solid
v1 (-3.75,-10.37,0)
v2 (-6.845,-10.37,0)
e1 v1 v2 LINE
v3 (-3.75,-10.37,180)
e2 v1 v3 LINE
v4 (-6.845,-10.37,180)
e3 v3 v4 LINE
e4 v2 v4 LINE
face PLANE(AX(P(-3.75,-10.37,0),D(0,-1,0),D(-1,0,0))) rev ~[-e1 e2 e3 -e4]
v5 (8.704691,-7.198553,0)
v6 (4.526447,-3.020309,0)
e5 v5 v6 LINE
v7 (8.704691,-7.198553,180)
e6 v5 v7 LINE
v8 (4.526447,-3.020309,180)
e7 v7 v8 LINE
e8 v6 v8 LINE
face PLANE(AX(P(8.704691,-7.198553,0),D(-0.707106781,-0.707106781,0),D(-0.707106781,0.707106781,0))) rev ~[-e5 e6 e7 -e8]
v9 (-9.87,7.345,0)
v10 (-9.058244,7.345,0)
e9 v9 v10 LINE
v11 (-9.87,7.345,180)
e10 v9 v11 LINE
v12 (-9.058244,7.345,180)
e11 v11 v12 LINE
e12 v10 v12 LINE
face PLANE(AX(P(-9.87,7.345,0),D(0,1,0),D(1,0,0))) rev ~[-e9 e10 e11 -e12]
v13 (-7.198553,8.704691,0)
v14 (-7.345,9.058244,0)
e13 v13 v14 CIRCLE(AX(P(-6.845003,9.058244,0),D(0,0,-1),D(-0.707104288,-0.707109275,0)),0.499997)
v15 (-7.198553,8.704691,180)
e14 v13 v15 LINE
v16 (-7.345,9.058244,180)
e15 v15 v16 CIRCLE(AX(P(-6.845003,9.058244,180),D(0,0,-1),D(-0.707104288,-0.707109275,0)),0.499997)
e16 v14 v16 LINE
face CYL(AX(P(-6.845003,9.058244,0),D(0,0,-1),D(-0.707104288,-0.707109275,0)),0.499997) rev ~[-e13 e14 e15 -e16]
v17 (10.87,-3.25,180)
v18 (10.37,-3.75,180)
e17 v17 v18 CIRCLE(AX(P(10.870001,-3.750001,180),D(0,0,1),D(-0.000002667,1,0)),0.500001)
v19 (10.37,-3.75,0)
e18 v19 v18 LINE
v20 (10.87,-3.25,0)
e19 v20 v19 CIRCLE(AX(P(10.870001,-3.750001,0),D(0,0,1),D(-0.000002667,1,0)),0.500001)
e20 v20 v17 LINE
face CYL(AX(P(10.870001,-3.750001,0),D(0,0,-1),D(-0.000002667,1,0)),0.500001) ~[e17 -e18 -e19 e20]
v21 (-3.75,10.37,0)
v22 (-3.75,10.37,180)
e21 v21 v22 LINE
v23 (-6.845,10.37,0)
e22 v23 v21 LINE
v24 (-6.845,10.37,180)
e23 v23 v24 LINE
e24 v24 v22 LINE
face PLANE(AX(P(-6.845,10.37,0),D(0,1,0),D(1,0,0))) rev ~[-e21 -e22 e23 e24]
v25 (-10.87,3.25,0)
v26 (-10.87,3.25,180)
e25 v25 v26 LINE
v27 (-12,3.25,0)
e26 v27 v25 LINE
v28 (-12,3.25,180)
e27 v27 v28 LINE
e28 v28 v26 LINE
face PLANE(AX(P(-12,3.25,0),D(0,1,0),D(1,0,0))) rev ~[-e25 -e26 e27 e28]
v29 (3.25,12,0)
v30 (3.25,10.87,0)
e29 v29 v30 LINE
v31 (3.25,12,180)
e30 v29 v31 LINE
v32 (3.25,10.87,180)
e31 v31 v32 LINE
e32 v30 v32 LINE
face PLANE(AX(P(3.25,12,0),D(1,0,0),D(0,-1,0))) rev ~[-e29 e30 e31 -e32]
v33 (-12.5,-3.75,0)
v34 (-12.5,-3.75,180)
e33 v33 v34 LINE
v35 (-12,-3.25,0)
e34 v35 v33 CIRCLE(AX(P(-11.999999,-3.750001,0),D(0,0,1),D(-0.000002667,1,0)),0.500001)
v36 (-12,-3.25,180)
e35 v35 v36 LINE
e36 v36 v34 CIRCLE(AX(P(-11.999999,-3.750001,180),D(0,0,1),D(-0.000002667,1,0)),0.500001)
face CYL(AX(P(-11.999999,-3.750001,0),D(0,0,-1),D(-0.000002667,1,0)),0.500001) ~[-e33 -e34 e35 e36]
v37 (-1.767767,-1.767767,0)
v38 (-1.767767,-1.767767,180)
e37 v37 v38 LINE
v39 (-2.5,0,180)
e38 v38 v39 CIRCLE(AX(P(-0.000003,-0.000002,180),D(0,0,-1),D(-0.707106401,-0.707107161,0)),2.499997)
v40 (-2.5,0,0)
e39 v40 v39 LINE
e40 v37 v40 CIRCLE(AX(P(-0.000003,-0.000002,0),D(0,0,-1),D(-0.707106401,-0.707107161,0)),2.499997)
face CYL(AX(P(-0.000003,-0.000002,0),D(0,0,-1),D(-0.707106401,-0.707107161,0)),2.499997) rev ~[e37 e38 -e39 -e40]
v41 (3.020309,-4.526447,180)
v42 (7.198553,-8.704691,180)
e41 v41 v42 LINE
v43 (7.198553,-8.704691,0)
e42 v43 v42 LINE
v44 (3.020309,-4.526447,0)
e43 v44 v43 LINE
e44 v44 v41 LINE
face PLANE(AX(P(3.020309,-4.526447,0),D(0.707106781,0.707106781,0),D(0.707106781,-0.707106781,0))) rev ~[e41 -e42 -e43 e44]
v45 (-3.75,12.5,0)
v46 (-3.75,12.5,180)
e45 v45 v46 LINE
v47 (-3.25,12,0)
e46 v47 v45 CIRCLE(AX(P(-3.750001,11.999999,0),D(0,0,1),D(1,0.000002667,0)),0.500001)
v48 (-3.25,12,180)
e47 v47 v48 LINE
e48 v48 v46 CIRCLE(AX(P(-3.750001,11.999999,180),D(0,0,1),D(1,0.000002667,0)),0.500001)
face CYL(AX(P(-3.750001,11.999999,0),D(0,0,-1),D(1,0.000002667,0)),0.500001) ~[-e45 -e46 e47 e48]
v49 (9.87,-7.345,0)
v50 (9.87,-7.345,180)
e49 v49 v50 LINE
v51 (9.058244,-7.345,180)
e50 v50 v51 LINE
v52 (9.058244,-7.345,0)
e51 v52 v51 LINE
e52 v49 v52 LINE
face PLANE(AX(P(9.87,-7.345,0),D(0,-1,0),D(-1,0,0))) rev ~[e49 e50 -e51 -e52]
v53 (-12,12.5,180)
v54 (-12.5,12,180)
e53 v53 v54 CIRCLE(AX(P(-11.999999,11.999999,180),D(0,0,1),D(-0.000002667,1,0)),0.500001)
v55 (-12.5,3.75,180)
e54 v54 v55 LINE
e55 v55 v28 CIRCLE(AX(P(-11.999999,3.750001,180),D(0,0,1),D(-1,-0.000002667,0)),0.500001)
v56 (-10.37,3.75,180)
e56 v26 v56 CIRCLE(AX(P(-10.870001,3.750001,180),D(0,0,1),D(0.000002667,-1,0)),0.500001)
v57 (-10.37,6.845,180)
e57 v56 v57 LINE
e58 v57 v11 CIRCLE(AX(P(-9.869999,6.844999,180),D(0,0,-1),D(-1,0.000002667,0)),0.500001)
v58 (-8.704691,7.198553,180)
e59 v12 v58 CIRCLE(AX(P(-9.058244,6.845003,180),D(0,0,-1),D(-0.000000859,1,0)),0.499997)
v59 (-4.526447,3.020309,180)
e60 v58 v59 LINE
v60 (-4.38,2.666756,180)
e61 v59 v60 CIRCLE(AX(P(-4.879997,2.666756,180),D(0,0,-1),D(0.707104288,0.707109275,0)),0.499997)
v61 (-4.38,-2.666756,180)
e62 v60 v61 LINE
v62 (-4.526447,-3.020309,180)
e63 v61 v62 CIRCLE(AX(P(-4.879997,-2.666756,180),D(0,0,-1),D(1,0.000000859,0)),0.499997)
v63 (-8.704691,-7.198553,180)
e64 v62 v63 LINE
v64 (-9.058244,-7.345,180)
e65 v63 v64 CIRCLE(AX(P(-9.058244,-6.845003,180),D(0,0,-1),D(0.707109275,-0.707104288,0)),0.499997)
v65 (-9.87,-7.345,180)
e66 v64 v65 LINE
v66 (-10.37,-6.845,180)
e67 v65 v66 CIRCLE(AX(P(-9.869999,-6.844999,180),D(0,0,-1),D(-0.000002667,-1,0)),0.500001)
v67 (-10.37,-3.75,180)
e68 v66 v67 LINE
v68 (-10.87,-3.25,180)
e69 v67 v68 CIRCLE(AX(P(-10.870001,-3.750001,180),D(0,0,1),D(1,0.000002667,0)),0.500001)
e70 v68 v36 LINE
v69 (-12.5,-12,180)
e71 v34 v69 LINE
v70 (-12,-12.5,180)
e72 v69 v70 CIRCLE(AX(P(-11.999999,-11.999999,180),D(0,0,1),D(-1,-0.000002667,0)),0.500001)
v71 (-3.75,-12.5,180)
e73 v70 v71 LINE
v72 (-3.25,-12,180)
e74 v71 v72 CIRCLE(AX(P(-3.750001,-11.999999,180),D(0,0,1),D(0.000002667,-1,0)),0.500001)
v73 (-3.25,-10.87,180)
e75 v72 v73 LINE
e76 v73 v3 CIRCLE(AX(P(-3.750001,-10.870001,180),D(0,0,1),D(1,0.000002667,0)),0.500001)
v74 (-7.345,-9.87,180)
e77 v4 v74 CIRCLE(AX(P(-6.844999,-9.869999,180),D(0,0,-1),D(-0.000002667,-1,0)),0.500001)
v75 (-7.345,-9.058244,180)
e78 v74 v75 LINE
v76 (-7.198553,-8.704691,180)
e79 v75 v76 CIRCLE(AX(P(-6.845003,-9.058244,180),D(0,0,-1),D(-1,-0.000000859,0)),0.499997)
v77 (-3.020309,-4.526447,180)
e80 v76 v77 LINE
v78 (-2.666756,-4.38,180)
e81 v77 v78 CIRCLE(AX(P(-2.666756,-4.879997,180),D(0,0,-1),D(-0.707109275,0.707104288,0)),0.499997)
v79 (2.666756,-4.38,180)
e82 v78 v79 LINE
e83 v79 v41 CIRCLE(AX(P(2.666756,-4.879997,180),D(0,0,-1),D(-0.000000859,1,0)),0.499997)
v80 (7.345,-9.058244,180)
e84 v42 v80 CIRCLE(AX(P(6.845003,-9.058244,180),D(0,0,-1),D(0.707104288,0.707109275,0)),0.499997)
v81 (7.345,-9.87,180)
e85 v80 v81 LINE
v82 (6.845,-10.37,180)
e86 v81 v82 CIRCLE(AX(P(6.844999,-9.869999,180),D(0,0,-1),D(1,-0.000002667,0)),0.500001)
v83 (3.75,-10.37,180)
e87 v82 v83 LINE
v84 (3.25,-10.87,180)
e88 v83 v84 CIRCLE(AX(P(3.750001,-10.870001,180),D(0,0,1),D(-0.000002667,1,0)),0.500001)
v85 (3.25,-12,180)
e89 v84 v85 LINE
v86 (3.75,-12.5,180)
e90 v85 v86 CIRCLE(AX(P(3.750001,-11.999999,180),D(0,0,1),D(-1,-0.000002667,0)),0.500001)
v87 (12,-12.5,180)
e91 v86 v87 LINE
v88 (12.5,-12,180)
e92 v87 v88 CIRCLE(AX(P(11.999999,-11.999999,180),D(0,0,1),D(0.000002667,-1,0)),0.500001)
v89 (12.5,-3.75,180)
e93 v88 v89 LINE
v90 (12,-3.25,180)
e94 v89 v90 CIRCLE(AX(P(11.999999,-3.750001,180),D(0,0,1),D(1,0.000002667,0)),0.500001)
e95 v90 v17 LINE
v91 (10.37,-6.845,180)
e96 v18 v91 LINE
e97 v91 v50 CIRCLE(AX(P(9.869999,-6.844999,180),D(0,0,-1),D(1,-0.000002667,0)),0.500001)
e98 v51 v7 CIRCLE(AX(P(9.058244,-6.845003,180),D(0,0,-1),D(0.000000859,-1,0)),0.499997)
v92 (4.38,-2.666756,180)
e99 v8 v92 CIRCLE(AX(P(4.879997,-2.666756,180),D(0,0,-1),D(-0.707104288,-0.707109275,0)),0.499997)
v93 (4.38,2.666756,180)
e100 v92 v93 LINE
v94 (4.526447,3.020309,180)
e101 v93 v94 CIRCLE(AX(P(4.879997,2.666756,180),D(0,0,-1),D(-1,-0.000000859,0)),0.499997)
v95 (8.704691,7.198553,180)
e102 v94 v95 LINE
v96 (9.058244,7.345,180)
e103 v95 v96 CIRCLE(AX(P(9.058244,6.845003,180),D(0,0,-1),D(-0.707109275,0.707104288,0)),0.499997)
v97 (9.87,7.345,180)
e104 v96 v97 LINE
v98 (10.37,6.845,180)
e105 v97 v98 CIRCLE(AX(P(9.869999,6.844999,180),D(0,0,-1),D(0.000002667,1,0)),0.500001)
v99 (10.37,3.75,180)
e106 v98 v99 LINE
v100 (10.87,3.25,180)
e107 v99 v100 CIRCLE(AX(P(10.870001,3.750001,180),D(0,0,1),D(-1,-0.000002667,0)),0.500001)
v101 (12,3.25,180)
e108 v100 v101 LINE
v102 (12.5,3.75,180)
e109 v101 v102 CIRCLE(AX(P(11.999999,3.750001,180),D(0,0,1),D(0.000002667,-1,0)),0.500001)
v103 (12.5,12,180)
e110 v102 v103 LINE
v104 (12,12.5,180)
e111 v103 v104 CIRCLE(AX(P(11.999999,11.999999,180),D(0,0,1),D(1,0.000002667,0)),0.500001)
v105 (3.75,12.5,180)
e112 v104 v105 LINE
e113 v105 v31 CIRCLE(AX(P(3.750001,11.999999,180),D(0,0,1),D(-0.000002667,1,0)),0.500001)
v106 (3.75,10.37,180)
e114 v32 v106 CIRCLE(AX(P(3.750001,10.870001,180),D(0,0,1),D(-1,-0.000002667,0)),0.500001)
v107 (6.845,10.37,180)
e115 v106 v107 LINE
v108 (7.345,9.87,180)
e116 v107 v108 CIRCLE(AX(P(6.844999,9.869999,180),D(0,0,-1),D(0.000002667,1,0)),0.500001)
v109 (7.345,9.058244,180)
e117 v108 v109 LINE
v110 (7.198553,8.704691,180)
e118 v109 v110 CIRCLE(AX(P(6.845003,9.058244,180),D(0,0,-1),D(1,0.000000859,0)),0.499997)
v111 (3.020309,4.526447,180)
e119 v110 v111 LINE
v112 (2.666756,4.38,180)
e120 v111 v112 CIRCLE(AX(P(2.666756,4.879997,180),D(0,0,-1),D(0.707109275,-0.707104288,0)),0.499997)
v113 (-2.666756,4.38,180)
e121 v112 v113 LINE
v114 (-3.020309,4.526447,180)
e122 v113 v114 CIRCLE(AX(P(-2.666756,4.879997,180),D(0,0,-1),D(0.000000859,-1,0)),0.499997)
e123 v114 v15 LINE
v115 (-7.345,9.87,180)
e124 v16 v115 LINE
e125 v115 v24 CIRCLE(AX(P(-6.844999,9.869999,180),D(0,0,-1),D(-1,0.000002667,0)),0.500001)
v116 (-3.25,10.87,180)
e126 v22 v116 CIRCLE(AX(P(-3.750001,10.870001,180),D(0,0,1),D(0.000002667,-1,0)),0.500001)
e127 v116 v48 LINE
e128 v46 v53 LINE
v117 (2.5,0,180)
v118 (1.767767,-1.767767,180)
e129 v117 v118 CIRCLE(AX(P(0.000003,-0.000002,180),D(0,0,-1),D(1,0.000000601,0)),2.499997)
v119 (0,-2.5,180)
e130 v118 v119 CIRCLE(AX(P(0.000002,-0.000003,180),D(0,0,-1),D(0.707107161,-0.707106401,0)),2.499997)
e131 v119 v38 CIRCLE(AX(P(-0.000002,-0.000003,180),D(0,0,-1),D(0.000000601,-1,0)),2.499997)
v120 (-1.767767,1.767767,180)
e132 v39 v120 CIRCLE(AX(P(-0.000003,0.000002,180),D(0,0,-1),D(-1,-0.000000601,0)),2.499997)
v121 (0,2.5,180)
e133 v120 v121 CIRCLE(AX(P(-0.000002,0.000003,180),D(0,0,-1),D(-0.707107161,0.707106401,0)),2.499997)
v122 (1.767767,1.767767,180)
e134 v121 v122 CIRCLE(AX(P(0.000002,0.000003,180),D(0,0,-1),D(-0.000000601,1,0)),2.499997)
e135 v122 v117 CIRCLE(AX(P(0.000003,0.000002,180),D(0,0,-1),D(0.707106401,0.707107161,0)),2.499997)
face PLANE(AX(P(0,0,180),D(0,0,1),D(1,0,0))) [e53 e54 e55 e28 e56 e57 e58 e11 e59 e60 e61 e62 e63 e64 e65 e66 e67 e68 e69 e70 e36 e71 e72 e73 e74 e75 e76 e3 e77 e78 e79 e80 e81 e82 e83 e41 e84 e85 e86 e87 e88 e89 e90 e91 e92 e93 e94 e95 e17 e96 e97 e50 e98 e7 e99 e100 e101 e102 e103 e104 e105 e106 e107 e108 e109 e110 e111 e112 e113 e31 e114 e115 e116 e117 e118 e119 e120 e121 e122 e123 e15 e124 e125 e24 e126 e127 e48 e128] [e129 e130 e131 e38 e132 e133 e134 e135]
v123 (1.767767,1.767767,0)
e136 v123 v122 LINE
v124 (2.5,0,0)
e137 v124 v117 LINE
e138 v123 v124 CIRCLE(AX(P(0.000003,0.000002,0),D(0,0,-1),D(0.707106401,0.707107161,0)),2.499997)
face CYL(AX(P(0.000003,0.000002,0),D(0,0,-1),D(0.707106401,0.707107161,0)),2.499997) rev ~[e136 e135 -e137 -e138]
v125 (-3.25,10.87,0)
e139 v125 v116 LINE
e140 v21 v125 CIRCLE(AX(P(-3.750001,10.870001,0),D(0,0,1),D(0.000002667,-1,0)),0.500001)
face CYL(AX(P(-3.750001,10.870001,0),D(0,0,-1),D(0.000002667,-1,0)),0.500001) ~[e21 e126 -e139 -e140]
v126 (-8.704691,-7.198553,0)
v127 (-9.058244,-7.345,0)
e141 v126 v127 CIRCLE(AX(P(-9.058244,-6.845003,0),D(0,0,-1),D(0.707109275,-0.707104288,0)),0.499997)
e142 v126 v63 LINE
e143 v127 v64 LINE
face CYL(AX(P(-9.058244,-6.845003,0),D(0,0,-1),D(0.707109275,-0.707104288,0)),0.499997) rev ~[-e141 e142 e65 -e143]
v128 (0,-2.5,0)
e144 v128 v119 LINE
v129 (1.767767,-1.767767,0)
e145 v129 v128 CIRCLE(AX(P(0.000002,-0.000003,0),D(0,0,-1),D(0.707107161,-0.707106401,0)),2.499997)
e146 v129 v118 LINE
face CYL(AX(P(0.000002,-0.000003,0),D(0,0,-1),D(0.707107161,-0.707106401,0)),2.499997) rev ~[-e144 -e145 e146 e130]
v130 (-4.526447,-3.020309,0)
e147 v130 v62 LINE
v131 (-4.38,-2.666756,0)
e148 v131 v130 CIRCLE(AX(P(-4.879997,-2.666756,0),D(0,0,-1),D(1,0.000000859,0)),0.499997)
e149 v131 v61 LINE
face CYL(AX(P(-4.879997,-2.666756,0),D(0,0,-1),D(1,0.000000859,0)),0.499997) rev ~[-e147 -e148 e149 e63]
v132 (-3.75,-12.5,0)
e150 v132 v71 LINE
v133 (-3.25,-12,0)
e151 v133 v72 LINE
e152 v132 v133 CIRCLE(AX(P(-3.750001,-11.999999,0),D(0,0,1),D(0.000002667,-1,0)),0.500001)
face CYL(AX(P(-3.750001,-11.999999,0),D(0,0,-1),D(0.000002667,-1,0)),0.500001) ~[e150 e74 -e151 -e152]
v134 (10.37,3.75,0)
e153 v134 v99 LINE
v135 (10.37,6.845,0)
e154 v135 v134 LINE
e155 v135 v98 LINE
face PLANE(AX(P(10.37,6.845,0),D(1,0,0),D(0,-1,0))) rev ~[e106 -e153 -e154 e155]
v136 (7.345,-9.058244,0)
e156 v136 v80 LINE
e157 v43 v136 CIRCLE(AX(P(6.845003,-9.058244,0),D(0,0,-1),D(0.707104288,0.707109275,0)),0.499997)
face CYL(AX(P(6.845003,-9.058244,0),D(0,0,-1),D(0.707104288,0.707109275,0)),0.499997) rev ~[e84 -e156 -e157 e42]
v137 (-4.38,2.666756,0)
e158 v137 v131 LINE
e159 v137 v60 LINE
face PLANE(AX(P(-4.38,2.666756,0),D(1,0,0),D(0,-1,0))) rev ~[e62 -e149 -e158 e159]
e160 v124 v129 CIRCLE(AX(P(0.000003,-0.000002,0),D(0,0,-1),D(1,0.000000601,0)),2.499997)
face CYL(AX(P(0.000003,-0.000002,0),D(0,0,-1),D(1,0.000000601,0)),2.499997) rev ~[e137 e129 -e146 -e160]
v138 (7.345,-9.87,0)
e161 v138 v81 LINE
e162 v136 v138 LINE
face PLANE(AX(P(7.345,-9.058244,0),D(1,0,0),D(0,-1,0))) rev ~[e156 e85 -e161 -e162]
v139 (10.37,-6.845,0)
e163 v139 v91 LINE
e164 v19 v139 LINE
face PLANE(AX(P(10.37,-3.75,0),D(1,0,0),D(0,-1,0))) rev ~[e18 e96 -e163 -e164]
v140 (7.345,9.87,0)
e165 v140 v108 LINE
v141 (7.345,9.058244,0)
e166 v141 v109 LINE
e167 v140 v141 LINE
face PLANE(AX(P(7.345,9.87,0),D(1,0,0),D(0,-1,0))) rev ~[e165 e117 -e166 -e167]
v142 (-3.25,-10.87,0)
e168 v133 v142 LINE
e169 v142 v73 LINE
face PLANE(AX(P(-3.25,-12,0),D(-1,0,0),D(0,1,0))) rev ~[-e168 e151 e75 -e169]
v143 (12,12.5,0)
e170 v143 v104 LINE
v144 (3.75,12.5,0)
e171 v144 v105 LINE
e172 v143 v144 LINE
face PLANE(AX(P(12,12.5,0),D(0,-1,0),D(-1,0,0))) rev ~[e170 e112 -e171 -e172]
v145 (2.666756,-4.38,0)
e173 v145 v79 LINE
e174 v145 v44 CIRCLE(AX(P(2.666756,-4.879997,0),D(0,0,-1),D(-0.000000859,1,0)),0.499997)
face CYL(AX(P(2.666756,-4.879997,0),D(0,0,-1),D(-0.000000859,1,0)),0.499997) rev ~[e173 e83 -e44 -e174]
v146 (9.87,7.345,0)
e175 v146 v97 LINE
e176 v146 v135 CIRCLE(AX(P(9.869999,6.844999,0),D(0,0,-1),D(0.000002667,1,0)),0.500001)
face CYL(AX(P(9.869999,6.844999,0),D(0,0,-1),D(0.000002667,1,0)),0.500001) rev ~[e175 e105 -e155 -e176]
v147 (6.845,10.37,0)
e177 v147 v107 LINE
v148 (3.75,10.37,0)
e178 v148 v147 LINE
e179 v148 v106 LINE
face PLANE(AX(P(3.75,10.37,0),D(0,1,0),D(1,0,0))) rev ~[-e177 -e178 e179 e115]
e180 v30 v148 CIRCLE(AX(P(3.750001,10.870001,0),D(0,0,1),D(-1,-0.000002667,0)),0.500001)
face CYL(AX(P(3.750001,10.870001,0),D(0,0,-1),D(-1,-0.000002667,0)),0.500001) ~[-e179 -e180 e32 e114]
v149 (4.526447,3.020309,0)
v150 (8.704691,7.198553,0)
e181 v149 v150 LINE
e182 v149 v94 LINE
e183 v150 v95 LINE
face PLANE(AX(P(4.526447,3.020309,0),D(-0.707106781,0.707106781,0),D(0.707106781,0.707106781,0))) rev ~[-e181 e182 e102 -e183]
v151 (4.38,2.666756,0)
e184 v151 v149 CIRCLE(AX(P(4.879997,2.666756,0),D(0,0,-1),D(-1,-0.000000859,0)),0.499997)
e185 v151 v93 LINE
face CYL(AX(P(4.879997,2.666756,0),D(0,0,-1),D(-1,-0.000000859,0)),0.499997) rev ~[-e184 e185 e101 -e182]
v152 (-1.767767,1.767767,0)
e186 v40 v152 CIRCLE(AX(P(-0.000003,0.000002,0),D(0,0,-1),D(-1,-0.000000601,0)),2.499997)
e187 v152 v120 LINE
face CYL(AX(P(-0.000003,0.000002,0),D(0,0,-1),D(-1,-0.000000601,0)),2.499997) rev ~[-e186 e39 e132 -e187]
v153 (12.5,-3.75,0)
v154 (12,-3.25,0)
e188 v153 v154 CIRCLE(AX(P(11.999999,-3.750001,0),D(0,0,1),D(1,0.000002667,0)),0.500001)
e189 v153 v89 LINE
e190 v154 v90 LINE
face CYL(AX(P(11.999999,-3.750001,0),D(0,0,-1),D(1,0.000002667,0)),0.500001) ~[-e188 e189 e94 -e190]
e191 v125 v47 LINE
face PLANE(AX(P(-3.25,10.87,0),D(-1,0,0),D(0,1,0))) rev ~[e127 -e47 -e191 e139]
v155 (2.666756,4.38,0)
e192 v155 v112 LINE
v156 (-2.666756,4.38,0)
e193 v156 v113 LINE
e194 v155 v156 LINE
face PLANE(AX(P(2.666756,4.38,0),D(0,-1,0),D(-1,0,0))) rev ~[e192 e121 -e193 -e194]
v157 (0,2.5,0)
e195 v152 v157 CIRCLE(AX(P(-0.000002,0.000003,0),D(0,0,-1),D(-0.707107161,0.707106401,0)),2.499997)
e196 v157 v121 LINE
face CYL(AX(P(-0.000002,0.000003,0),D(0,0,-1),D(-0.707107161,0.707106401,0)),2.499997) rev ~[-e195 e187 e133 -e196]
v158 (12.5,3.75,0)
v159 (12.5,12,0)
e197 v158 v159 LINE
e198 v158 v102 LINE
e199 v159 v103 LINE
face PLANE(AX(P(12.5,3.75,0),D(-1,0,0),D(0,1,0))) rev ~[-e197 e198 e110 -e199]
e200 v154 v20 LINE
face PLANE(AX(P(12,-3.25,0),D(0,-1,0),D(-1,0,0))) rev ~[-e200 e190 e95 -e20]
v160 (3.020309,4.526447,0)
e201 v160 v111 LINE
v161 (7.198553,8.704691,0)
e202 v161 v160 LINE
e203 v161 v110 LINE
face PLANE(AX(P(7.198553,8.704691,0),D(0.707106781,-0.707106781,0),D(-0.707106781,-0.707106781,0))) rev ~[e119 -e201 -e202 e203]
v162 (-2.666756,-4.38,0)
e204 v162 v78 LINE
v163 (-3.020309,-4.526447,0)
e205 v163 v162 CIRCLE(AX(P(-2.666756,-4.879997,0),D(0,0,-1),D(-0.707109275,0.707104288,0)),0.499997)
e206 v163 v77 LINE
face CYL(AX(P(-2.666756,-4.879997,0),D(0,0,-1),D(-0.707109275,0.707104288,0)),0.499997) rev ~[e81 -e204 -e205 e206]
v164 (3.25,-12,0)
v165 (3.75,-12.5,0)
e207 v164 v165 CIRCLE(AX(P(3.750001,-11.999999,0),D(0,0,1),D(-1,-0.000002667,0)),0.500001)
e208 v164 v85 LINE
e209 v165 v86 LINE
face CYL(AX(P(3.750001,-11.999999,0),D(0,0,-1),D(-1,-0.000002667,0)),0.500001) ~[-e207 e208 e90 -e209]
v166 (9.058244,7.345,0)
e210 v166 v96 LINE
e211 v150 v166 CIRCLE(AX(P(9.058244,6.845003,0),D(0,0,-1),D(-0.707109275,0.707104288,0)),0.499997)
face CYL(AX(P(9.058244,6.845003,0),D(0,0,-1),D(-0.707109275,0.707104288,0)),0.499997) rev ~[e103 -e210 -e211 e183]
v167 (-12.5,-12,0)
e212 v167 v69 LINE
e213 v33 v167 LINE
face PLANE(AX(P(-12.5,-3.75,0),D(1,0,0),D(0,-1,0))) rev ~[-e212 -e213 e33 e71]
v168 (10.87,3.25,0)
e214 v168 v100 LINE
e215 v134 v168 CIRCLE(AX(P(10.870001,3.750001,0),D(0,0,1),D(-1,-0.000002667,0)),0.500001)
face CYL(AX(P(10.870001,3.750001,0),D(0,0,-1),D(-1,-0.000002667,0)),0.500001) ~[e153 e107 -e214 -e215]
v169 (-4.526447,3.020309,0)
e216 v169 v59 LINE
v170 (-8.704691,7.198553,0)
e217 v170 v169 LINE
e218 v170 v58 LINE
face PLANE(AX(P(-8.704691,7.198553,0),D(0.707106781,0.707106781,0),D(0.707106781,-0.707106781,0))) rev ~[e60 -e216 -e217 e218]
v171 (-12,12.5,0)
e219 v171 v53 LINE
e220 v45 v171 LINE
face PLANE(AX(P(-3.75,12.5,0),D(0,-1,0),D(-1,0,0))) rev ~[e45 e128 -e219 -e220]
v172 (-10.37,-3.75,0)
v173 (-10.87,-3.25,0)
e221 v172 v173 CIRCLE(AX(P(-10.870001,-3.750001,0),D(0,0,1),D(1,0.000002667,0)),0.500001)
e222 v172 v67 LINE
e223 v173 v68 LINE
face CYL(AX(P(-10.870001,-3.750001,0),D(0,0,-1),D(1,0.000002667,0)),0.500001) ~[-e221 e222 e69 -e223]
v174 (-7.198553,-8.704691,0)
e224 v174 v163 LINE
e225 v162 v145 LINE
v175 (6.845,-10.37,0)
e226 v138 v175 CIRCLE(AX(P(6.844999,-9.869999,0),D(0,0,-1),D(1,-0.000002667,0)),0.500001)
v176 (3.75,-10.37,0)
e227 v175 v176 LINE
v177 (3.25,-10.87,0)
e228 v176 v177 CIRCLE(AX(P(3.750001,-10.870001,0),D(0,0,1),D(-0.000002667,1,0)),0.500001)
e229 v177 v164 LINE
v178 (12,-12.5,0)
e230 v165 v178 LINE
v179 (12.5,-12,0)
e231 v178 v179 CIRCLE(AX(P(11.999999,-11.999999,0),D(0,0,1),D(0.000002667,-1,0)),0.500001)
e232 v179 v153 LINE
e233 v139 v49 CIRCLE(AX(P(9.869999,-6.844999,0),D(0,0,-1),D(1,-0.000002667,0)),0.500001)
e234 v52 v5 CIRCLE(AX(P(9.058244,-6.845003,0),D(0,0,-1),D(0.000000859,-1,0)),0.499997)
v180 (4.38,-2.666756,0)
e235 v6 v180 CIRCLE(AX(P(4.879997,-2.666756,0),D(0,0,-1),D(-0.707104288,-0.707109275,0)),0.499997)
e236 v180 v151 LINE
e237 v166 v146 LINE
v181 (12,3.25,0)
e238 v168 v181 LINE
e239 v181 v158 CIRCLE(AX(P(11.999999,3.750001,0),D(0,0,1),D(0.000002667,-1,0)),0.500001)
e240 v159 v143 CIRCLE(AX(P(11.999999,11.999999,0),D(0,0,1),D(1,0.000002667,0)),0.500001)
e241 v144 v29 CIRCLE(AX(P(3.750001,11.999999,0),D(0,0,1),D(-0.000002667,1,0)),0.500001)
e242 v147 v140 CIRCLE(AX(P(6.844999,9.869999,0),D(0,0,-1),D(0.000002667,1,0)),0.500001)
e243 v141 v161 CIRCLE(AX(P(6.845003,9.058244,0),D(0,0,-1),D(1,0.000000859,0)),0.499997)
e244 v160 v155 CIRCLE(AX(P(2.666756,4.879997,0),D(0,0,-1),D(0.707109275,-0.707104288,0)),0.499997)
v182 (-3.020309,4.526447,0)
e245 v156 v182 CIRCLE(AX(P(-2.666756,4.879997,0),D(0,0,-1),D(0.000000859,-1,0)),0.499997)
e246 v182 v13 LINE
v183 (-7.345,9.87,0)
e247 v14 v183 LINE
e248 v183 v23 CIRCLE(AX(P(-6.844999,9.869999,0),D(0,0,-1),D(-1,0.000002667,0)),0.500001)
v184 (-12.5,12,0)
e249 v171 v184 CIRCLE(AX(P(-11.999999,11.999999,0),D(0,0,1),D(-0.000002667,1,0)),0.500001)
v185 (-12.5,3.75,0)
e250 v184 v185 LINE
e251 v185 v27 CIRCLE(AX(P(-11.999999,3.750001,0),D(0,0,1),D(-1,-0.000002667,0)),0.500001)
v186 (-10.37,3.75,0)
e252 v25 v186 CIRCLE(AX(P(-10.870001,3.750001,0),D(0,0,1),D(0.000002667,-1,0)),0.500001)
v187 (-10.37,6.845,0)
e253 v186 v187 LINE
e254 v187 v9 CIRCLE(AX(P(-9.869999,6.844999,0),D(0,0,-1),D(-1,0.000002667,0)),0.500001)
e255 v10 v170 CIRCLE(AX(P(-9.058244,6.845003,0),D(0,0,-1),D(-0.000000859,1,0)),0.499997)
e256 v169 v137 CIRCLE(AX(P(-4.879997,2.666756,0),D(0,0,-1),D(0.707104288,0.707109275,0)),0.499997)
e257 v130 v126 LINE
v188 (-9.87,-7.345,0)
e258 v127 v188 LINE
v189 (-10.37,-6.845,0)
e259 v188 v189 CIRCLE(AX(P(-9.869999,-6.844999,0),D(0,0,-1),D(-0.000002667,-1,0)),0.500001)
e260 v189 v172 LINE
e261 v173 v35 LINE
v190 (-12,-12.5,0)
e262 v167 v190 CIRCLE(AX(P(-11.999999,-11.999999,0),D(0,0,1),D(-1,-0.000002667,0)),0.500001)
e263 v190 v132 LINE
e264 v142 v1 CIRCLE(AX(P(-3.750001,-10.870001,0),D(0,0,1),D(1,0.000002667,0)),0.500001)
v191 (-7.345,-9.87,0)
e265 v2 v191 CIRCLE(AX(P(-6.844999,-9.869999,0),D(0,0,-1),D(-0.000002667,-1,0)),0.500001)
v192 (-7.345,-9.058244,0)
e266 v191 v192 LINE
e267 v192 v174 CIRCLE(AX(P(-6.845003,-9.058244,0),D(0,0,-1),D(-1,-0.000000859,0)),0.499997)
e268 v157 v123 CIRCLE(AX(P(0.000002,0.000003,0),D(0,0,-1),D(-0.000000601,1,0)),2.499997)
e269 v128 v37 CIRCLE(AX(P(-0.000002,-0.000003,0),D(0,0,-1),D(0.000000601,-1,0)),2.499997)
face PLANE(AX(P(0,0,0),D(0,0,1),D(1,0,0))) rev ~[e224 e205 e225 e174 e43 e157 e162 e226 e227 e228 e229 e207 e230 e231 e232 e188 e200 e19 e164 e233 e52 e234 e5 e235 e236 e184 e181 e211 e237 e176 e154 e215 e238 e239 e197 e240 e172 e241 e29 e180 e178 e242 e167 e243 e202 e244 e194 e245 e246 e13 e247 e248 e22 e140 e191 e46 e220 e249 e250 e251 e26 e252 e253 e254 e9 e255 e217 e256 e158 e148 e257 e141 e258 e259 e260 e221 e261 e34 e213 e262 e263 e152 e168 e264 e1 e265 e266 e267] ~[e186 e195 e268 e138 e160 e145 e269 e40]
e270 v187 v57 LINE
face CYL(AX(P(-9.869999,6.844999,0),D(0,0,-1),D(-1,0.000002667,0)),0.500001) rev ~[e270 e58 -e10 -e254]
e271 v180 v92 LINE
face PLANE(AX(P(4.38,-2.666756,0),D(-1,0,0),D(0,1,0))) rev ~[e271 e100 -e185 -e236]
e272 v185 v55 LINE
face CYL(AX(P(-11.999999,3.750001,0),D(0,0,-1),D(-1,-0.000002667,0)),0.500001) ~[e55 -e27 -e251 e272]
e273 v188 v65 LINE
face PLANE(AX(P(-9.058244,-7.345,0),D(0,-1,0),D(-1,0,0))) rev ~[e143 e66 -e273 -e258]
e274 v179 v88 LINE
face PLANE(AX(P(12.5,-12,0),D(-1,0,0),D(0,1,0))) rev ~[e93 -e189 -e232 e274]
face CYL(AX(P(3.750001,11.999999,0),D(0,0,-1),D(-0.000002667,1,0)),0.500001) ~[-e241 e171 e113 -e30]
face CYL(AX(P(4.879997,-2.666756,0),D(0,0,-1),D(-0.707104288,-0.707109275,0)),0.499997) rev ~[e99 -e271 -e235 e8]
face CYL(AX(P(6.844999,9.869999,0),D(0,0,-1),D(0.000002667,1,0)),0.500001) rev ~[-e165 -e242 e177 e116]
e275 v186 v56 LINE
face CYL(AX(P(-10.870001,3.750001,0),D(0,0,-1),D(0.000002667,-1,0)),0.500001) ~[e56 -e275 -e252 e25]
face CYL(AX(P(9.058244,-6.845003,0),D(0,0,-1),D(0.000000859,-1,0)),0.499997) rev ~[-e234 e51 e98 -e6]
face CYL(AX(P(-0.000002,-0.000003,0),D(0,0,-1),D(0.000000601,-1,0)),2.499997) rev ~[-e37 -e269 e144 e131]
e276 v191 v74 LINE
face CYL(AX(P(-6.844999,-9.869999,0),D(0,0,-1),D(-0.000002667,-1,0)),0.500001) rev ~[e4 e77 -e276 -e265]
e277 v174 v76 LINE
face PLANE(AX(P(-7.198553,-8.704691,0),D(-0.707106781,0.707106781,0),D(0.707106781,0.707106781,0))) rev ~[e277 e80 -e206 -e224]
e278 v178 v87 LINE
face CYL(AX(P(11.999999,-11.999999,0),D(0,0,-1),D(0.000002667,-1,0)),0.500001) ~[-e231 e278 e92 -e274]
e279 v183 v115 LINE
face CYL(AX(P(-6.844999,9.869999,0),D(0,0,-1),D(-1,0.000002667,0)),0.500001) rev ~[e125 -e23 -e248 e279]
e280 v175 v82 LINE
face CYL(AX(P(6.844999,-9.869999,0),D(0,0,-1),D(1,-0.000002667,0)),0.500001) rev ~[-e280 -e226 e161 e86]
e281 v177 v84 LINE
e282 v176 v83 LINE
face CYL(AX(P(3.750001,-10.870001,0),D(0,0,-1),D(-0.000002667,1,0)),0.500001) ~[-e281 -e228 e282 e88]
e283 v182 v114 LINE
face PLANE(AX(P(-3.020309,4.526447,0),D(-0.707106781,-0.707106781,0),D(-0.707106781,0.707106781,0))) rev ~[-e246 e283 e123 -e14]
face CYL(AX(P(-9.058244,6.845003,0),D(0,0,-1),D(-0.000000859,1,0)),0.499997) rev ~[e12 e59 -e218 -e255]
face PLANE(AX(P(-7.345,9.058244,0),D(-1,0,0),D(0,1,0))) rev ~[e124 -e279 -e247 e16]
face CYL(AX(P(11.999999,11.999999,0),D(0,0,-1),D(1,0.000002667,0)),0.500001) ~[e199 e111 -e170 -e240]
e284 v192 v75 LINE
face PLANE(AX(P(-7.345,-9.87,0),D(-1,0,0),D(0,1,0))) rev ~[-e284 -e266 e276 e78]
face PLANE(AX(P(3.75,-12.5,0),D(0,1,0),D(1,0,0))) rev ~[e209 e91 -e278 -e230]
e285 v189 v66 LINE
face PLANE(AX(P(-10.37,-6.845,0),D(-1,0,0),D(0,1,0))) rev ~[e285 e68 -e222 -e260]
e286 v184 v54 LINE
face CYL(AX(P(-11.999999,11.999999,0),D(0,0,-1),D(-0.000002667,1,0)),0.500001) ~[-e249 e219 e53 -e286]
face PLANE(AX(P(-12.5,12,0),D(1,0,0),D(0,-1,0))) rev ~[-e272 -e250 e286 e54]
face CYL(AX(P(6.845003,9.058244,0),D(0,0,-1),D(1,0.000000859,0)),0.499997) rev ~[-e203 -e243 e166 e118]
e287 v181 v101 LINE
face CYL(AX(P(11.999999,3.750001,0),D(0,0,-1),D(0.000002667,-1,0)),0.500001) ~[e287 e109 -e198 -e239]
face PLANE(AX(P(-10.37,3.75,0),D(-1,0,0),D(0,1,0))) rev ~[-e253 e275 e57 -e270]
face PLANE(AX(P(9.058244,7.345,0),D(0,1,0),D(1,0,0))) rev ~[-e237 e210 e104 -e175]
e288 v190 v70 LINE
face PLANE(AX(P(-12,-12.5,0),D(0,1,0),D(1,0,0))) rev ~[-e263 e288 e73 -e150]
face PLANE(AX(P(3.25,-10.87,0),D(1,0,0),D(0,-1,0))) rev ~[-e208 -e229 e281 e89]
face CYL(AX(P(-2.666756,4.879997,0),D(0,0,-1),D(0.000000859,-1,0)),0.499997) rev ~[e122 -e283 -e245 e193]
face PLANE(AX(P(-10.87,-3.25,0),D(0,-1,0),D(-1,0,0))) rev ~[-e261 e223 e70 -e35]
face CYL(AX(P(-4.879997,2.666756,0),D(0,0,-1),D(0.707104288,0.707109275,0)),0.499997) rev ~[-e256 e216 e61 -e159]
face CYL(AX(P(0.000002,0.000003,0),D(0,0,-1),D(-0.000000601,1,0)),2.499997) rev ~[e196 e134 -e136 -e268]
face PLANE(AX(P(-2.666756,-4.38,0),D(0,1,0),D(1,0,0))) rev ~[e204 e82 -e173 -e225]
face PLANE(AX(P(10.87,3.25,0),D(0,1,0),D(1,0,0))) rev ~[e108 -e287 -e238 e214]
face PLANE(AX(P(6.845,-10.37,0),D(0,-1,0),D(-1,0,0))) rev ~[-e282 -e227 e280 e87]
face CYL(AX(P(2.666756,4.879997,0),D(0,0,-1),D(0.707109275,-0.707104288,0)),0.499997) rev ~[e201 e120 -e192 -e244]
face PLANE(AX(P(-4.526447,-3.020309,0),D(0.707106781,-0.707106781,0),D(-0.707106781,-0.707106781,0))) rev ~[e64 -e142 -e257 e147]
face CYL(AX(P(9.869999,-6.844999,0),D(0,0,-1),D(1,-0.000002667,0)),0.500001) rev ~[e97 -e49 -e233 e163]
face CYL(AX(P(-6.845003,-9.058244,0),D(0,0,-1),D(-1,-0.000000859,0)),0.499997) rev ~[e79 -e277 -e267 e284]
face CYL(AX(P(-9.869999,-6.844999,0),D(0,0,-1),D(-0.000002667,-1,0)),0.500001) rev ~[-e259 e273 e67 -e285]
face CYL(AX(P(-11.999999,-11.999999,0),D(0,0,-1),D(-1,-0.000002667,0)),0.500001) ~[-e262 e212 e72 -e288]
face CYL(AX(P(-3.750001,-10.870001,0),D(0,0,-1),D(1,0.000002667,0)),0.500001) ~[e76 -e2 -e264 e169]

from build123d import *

# Parameters (mm, degrees)
F1_DEPTH = 180


with BuildPart() as f1:
    # F0 (on Top) → F1 (new body)
    with BuildSketch(Plane.XY):
        with BuildLine():
            Line((-3.75, 12.5), (-12, 12.5))
            ThreePointArc((-12, 12.5), (-12.353553, 12.353553), (-12.5, 12))
            Line((-12.5, 12), (-12.5, 3.75))
            ThreePointArc((-12.5, 3.75), (-12.353553, 3.396447), (-12, 3.25))
            Line((-12, 3.25), (-10.87, 3.25))
            ThreePointArc((-10.87, 3.25), (-10.516447, 3.396447), (-10.37, 3.75))
            Line((-10.37, 3.75), (-10.37, 6.845))
            ThreePointArc((-10.37, 6.845), (-10.223553, 7.198553), (-9.87, 7.345))
            Line((-9.87, 7.345), (-9.058244, 7.345))
            ThreePointArc((-9.058244, 7.345), (-8.866903, 7.30694), (-8.704691, 7.198553))
            Line((-8.704691, 7.198553), (-4.526447, 3.020309))
            ThreePointArc((-4.526447, 3.020309), (-4.41806, 2.858097), (-4.38, 2.666756))
            Line((-4.38, 2.666756), (-4.38, 0))
            Line((-4.38, 0), (-4.38, -2.666756))
            ThreePointArc((-4.38, -2.666756), (-4.41806, -2.858097), (-4.526447, -3.020309))
            Line((-4.526447, -3.020309), (-8.704691, -7.198553))
            ThreePointArc((-8.704691, -7.198553), (-8.866903, -7.30694), (-9.058244, -7.345))
            Line((-9.058244, -7.345), (-9.87, -7.345))
            ThreePointArc((-9.87, -7.345), (-10.223553, -7.198553), (-10.37, -6.845))
            Line((-10.37, -6.845), (-10.37, -3.75))
            ThreePointArc((-10.37, -3.75), (-10.516447, -3.396447), (-10.87, -3.25))
            Line((-10.87, -3.25), (-12, -3.25))
            ThreePointArc((-12, -3.25), (-12.353553, -3.396447), (-12.5, -3.75))
            Line((-12.5, -3.75), (-12.5, -12))
            ThreePointArc((-12.5, -12), (-12.353553, -12.353553), (-12, -12.5))
            Line((-12, -12.5), (-3.75, -12.5))
            ThreePointArc((-3.75, -12.5), (-3.396447, -12.353553), (-3.25, -12))
            Line((-3.25, -12), (-3.25, -10.87))
            ThreePointArc((-3.25, -10.87), (-3.396447, -10.516447), (-3.75, -10.37))
            Line((-3.75, -10.37), (-6.845, -10.37))
            ThreePointArc((-6.845, -10.37), (-7.198553, -10.223553), (-7.345, -9.87))
            Line((-7.345, -9.87), (-7.345, -9.058244))
            ThreePointArc((-7.345, -9.058244), (-7.30694, -8.866903), (-7.198553, -8.704691))
            Line((-7.198553, -8.704691), (-3.020309, -4.526447))
            ThreePointArc((-3.020309, -4.526447), (-2.858097, -4.41806), (-2.666756, -4.38))
            Line((-2.666756, -4.38), (0, -4.38))
            Line((0, -4.38), (2.666756, -4.38))
            ThreePointArc((2.666756, -4.38), (2.858097, -4.41806), (3.020309, -4.526447))
            Line((3.020309, -4.526447), (7.198553, -8.704691))
            ThreePointArc((7.198553, -8.704691), (7.30694, -8.866903), (7.345, -9.058244))
            Line((7.345, -9.058244), (7.345, -9.87))
            ThreePointArc((7.345, -9.87), (7.198553, -10.223553), (6.845, -10.37))
            Line((6.845, -10.37), (3.75, -10.37))
            ThreePointArc((3.75, -10.37), (3.396447, -10.516447), (3.25, -10.87))
            Line((3.25, -10.87), (3.25, -12))
            ThreePointArc((3.25, -12), (3.396447, -12.353553), (3.75, -12.5))
            Line((3.75, -12.5), (12, -12.5))
            ThreePointArc((12, -12.5), (12.353553, -12.353553), (12.5, -12))
            Line((12.5, -12), (12.5, -3.75))
            ThreePointArc((12.5, -3.75), (12.353553, -3.396447), (12, -3.25))
            Line((12, -3.25), (10.87, -3.25))
            ThreePointArc((10.87, -3.25), (10.516447, -3.396447), (10.37, -3.75))
            Line((10.37, -3.75), (10.37, -6.845))
            ThreePointArc((10.37, -6.845), (10.223553, -7.198553), (9.87, -7.345))
            Line((9.87, -7.345), (9.058244, -7.345))
            ThreePointArc((9.058244, -7.345), (8.866903, -7.30694), (8.704691, -7.198553))
            Line((8.704691, -7.198553), (4.526447, -3.020309))
            ThreePointArc((4.526447, -3.020309), (4.41806, -2.858097), (4.38, -2.666756))
            Line((4.38, -2.666756), (4.38, 0))
            Line((4.38, 0), (4.38, 2.666756))
            ThreePointArc((4.38, 2.666756), (4.41806, 2.858097), (4.526447, 3.020309))
            Line((4.526447, 3.020309), (8.704691, 7.198553))
            ThreePointArc((8.704691, 7.198553), (8.866903, 7.30694), (9.058244, 7.345))
            Line((9.058244, 7.345), (9.87, 7.345))
            ThreePointArc((9.87, 7.345), (10.223553, 7.198553), (10.37, 6.845))
            Line((10.37, 6.845), (10.37, 3.75))
            ThreePointArc((10.37, 3.75), (10.516447, 3.396447), (10.87, 3.25))
            Line((10.87, 3.25), (12, 3.25))
            ThreePointArc((12, 3.25), (12.353553, 3.396447), (12.5, 3.75))
            Line((12.5, 3.75), (12.5, 12))
            ThreePointArc((12.5, 12), (12.353553, 12.353553), (12, 12.5))
            Line((12, 12.5), (3.75, 12.5))
            ThreePointArc((3.75, 12.5), (3.396447, 12.353553), (3.25, 12))
            Line((3.25, 12), (3.25, 10.87))
            ThreePointArc((3.25, 10.87), (3.396447, 10.516447), (3.75, 10.37))
            Line((3.75, 10.37), (6.845, 10.37))
            ThreePointArc((6.845, 10.37), (7.198553, 10.223553), (7.345, 9.87))
            Line((7.345, 9.87), (7.345, 9.058244))
            ThreePointArc((7.345, 9.058244), (7.30694, 8.866903), (7.198553, 8.704691))
            Line((7.198553, 8.704691), (3.020309, 4.526447))
            ThreePointArc((3.020309, 4.526447), (2.858097, 4.41806), (2.666756, 4.38))
            Line((2.666756, 4.38), (0, 4.38))
            Line((0, 4.38), (-2.666756, 4.38))
            ThreePointArc((-2.666756, 4.38), (-2.858097, 4.41806), (-3.020309, 4.526447))
            Line((-3.020309, 4.526447), (-7.198553, 8.704691))
            ThreePointArc((-7.198553, 8.704691), (-7.30694, 8.866903), (-7.345, 9.058244))
            Line((-7.345, 9.058244), (-7.345, 9.87))
            ThreePointArc((-7.345, 9.87), (-7.198553, 10.223553), (-6.845, 10.37))
            Line((-6.845, 10.37), (-3.75, 10.37))
            ThreePointArc((-3.75, 10.37), (-3.396447, 10.516447), (-3.25, 10.87))
            Line((-3.25, 10.87), (-3.25, 12))
            ThreePointArc((-3.25, 12), (-3.396447, 12.353553), (-3.75, 12.5))
        make_face()
        with BuildLine():
            ThreePointArc((-1.767767, 1.767767), (-0.956709, 2.309699), (0, 2.5))
            ThreePointArc((0, 2.5), (0.956709, 2.309699), (1.767767, 1.767767))
            ThreePointArc((1.767767, 1.767767), (2.309699, 0.956709), (2.5, 0))
            ThreePointArc((2.5, 0), (2.309699, -0.956709), (1.767767, -1.767767))
            ThreePointArc((1.767767, -1.767767), (0.956709, -2.309699), (0, -2.5))
            ThreePointArc((0, -2.5), (-0.956709, -2.309699), (-1.767767, -1.767767))
            ThreePointArc((-1.767767, -1.767767), (-2.309699, -0.956709), (-2.5, 0))
            ThreePointArc((-2.5, 0), (-2.309699, 0.956709), (-1.767767, 1.767767))
        make_face(mode=Mode.SUBTRACT)
    extrude(amount=F1_DEPTH)


solid = f1.part
